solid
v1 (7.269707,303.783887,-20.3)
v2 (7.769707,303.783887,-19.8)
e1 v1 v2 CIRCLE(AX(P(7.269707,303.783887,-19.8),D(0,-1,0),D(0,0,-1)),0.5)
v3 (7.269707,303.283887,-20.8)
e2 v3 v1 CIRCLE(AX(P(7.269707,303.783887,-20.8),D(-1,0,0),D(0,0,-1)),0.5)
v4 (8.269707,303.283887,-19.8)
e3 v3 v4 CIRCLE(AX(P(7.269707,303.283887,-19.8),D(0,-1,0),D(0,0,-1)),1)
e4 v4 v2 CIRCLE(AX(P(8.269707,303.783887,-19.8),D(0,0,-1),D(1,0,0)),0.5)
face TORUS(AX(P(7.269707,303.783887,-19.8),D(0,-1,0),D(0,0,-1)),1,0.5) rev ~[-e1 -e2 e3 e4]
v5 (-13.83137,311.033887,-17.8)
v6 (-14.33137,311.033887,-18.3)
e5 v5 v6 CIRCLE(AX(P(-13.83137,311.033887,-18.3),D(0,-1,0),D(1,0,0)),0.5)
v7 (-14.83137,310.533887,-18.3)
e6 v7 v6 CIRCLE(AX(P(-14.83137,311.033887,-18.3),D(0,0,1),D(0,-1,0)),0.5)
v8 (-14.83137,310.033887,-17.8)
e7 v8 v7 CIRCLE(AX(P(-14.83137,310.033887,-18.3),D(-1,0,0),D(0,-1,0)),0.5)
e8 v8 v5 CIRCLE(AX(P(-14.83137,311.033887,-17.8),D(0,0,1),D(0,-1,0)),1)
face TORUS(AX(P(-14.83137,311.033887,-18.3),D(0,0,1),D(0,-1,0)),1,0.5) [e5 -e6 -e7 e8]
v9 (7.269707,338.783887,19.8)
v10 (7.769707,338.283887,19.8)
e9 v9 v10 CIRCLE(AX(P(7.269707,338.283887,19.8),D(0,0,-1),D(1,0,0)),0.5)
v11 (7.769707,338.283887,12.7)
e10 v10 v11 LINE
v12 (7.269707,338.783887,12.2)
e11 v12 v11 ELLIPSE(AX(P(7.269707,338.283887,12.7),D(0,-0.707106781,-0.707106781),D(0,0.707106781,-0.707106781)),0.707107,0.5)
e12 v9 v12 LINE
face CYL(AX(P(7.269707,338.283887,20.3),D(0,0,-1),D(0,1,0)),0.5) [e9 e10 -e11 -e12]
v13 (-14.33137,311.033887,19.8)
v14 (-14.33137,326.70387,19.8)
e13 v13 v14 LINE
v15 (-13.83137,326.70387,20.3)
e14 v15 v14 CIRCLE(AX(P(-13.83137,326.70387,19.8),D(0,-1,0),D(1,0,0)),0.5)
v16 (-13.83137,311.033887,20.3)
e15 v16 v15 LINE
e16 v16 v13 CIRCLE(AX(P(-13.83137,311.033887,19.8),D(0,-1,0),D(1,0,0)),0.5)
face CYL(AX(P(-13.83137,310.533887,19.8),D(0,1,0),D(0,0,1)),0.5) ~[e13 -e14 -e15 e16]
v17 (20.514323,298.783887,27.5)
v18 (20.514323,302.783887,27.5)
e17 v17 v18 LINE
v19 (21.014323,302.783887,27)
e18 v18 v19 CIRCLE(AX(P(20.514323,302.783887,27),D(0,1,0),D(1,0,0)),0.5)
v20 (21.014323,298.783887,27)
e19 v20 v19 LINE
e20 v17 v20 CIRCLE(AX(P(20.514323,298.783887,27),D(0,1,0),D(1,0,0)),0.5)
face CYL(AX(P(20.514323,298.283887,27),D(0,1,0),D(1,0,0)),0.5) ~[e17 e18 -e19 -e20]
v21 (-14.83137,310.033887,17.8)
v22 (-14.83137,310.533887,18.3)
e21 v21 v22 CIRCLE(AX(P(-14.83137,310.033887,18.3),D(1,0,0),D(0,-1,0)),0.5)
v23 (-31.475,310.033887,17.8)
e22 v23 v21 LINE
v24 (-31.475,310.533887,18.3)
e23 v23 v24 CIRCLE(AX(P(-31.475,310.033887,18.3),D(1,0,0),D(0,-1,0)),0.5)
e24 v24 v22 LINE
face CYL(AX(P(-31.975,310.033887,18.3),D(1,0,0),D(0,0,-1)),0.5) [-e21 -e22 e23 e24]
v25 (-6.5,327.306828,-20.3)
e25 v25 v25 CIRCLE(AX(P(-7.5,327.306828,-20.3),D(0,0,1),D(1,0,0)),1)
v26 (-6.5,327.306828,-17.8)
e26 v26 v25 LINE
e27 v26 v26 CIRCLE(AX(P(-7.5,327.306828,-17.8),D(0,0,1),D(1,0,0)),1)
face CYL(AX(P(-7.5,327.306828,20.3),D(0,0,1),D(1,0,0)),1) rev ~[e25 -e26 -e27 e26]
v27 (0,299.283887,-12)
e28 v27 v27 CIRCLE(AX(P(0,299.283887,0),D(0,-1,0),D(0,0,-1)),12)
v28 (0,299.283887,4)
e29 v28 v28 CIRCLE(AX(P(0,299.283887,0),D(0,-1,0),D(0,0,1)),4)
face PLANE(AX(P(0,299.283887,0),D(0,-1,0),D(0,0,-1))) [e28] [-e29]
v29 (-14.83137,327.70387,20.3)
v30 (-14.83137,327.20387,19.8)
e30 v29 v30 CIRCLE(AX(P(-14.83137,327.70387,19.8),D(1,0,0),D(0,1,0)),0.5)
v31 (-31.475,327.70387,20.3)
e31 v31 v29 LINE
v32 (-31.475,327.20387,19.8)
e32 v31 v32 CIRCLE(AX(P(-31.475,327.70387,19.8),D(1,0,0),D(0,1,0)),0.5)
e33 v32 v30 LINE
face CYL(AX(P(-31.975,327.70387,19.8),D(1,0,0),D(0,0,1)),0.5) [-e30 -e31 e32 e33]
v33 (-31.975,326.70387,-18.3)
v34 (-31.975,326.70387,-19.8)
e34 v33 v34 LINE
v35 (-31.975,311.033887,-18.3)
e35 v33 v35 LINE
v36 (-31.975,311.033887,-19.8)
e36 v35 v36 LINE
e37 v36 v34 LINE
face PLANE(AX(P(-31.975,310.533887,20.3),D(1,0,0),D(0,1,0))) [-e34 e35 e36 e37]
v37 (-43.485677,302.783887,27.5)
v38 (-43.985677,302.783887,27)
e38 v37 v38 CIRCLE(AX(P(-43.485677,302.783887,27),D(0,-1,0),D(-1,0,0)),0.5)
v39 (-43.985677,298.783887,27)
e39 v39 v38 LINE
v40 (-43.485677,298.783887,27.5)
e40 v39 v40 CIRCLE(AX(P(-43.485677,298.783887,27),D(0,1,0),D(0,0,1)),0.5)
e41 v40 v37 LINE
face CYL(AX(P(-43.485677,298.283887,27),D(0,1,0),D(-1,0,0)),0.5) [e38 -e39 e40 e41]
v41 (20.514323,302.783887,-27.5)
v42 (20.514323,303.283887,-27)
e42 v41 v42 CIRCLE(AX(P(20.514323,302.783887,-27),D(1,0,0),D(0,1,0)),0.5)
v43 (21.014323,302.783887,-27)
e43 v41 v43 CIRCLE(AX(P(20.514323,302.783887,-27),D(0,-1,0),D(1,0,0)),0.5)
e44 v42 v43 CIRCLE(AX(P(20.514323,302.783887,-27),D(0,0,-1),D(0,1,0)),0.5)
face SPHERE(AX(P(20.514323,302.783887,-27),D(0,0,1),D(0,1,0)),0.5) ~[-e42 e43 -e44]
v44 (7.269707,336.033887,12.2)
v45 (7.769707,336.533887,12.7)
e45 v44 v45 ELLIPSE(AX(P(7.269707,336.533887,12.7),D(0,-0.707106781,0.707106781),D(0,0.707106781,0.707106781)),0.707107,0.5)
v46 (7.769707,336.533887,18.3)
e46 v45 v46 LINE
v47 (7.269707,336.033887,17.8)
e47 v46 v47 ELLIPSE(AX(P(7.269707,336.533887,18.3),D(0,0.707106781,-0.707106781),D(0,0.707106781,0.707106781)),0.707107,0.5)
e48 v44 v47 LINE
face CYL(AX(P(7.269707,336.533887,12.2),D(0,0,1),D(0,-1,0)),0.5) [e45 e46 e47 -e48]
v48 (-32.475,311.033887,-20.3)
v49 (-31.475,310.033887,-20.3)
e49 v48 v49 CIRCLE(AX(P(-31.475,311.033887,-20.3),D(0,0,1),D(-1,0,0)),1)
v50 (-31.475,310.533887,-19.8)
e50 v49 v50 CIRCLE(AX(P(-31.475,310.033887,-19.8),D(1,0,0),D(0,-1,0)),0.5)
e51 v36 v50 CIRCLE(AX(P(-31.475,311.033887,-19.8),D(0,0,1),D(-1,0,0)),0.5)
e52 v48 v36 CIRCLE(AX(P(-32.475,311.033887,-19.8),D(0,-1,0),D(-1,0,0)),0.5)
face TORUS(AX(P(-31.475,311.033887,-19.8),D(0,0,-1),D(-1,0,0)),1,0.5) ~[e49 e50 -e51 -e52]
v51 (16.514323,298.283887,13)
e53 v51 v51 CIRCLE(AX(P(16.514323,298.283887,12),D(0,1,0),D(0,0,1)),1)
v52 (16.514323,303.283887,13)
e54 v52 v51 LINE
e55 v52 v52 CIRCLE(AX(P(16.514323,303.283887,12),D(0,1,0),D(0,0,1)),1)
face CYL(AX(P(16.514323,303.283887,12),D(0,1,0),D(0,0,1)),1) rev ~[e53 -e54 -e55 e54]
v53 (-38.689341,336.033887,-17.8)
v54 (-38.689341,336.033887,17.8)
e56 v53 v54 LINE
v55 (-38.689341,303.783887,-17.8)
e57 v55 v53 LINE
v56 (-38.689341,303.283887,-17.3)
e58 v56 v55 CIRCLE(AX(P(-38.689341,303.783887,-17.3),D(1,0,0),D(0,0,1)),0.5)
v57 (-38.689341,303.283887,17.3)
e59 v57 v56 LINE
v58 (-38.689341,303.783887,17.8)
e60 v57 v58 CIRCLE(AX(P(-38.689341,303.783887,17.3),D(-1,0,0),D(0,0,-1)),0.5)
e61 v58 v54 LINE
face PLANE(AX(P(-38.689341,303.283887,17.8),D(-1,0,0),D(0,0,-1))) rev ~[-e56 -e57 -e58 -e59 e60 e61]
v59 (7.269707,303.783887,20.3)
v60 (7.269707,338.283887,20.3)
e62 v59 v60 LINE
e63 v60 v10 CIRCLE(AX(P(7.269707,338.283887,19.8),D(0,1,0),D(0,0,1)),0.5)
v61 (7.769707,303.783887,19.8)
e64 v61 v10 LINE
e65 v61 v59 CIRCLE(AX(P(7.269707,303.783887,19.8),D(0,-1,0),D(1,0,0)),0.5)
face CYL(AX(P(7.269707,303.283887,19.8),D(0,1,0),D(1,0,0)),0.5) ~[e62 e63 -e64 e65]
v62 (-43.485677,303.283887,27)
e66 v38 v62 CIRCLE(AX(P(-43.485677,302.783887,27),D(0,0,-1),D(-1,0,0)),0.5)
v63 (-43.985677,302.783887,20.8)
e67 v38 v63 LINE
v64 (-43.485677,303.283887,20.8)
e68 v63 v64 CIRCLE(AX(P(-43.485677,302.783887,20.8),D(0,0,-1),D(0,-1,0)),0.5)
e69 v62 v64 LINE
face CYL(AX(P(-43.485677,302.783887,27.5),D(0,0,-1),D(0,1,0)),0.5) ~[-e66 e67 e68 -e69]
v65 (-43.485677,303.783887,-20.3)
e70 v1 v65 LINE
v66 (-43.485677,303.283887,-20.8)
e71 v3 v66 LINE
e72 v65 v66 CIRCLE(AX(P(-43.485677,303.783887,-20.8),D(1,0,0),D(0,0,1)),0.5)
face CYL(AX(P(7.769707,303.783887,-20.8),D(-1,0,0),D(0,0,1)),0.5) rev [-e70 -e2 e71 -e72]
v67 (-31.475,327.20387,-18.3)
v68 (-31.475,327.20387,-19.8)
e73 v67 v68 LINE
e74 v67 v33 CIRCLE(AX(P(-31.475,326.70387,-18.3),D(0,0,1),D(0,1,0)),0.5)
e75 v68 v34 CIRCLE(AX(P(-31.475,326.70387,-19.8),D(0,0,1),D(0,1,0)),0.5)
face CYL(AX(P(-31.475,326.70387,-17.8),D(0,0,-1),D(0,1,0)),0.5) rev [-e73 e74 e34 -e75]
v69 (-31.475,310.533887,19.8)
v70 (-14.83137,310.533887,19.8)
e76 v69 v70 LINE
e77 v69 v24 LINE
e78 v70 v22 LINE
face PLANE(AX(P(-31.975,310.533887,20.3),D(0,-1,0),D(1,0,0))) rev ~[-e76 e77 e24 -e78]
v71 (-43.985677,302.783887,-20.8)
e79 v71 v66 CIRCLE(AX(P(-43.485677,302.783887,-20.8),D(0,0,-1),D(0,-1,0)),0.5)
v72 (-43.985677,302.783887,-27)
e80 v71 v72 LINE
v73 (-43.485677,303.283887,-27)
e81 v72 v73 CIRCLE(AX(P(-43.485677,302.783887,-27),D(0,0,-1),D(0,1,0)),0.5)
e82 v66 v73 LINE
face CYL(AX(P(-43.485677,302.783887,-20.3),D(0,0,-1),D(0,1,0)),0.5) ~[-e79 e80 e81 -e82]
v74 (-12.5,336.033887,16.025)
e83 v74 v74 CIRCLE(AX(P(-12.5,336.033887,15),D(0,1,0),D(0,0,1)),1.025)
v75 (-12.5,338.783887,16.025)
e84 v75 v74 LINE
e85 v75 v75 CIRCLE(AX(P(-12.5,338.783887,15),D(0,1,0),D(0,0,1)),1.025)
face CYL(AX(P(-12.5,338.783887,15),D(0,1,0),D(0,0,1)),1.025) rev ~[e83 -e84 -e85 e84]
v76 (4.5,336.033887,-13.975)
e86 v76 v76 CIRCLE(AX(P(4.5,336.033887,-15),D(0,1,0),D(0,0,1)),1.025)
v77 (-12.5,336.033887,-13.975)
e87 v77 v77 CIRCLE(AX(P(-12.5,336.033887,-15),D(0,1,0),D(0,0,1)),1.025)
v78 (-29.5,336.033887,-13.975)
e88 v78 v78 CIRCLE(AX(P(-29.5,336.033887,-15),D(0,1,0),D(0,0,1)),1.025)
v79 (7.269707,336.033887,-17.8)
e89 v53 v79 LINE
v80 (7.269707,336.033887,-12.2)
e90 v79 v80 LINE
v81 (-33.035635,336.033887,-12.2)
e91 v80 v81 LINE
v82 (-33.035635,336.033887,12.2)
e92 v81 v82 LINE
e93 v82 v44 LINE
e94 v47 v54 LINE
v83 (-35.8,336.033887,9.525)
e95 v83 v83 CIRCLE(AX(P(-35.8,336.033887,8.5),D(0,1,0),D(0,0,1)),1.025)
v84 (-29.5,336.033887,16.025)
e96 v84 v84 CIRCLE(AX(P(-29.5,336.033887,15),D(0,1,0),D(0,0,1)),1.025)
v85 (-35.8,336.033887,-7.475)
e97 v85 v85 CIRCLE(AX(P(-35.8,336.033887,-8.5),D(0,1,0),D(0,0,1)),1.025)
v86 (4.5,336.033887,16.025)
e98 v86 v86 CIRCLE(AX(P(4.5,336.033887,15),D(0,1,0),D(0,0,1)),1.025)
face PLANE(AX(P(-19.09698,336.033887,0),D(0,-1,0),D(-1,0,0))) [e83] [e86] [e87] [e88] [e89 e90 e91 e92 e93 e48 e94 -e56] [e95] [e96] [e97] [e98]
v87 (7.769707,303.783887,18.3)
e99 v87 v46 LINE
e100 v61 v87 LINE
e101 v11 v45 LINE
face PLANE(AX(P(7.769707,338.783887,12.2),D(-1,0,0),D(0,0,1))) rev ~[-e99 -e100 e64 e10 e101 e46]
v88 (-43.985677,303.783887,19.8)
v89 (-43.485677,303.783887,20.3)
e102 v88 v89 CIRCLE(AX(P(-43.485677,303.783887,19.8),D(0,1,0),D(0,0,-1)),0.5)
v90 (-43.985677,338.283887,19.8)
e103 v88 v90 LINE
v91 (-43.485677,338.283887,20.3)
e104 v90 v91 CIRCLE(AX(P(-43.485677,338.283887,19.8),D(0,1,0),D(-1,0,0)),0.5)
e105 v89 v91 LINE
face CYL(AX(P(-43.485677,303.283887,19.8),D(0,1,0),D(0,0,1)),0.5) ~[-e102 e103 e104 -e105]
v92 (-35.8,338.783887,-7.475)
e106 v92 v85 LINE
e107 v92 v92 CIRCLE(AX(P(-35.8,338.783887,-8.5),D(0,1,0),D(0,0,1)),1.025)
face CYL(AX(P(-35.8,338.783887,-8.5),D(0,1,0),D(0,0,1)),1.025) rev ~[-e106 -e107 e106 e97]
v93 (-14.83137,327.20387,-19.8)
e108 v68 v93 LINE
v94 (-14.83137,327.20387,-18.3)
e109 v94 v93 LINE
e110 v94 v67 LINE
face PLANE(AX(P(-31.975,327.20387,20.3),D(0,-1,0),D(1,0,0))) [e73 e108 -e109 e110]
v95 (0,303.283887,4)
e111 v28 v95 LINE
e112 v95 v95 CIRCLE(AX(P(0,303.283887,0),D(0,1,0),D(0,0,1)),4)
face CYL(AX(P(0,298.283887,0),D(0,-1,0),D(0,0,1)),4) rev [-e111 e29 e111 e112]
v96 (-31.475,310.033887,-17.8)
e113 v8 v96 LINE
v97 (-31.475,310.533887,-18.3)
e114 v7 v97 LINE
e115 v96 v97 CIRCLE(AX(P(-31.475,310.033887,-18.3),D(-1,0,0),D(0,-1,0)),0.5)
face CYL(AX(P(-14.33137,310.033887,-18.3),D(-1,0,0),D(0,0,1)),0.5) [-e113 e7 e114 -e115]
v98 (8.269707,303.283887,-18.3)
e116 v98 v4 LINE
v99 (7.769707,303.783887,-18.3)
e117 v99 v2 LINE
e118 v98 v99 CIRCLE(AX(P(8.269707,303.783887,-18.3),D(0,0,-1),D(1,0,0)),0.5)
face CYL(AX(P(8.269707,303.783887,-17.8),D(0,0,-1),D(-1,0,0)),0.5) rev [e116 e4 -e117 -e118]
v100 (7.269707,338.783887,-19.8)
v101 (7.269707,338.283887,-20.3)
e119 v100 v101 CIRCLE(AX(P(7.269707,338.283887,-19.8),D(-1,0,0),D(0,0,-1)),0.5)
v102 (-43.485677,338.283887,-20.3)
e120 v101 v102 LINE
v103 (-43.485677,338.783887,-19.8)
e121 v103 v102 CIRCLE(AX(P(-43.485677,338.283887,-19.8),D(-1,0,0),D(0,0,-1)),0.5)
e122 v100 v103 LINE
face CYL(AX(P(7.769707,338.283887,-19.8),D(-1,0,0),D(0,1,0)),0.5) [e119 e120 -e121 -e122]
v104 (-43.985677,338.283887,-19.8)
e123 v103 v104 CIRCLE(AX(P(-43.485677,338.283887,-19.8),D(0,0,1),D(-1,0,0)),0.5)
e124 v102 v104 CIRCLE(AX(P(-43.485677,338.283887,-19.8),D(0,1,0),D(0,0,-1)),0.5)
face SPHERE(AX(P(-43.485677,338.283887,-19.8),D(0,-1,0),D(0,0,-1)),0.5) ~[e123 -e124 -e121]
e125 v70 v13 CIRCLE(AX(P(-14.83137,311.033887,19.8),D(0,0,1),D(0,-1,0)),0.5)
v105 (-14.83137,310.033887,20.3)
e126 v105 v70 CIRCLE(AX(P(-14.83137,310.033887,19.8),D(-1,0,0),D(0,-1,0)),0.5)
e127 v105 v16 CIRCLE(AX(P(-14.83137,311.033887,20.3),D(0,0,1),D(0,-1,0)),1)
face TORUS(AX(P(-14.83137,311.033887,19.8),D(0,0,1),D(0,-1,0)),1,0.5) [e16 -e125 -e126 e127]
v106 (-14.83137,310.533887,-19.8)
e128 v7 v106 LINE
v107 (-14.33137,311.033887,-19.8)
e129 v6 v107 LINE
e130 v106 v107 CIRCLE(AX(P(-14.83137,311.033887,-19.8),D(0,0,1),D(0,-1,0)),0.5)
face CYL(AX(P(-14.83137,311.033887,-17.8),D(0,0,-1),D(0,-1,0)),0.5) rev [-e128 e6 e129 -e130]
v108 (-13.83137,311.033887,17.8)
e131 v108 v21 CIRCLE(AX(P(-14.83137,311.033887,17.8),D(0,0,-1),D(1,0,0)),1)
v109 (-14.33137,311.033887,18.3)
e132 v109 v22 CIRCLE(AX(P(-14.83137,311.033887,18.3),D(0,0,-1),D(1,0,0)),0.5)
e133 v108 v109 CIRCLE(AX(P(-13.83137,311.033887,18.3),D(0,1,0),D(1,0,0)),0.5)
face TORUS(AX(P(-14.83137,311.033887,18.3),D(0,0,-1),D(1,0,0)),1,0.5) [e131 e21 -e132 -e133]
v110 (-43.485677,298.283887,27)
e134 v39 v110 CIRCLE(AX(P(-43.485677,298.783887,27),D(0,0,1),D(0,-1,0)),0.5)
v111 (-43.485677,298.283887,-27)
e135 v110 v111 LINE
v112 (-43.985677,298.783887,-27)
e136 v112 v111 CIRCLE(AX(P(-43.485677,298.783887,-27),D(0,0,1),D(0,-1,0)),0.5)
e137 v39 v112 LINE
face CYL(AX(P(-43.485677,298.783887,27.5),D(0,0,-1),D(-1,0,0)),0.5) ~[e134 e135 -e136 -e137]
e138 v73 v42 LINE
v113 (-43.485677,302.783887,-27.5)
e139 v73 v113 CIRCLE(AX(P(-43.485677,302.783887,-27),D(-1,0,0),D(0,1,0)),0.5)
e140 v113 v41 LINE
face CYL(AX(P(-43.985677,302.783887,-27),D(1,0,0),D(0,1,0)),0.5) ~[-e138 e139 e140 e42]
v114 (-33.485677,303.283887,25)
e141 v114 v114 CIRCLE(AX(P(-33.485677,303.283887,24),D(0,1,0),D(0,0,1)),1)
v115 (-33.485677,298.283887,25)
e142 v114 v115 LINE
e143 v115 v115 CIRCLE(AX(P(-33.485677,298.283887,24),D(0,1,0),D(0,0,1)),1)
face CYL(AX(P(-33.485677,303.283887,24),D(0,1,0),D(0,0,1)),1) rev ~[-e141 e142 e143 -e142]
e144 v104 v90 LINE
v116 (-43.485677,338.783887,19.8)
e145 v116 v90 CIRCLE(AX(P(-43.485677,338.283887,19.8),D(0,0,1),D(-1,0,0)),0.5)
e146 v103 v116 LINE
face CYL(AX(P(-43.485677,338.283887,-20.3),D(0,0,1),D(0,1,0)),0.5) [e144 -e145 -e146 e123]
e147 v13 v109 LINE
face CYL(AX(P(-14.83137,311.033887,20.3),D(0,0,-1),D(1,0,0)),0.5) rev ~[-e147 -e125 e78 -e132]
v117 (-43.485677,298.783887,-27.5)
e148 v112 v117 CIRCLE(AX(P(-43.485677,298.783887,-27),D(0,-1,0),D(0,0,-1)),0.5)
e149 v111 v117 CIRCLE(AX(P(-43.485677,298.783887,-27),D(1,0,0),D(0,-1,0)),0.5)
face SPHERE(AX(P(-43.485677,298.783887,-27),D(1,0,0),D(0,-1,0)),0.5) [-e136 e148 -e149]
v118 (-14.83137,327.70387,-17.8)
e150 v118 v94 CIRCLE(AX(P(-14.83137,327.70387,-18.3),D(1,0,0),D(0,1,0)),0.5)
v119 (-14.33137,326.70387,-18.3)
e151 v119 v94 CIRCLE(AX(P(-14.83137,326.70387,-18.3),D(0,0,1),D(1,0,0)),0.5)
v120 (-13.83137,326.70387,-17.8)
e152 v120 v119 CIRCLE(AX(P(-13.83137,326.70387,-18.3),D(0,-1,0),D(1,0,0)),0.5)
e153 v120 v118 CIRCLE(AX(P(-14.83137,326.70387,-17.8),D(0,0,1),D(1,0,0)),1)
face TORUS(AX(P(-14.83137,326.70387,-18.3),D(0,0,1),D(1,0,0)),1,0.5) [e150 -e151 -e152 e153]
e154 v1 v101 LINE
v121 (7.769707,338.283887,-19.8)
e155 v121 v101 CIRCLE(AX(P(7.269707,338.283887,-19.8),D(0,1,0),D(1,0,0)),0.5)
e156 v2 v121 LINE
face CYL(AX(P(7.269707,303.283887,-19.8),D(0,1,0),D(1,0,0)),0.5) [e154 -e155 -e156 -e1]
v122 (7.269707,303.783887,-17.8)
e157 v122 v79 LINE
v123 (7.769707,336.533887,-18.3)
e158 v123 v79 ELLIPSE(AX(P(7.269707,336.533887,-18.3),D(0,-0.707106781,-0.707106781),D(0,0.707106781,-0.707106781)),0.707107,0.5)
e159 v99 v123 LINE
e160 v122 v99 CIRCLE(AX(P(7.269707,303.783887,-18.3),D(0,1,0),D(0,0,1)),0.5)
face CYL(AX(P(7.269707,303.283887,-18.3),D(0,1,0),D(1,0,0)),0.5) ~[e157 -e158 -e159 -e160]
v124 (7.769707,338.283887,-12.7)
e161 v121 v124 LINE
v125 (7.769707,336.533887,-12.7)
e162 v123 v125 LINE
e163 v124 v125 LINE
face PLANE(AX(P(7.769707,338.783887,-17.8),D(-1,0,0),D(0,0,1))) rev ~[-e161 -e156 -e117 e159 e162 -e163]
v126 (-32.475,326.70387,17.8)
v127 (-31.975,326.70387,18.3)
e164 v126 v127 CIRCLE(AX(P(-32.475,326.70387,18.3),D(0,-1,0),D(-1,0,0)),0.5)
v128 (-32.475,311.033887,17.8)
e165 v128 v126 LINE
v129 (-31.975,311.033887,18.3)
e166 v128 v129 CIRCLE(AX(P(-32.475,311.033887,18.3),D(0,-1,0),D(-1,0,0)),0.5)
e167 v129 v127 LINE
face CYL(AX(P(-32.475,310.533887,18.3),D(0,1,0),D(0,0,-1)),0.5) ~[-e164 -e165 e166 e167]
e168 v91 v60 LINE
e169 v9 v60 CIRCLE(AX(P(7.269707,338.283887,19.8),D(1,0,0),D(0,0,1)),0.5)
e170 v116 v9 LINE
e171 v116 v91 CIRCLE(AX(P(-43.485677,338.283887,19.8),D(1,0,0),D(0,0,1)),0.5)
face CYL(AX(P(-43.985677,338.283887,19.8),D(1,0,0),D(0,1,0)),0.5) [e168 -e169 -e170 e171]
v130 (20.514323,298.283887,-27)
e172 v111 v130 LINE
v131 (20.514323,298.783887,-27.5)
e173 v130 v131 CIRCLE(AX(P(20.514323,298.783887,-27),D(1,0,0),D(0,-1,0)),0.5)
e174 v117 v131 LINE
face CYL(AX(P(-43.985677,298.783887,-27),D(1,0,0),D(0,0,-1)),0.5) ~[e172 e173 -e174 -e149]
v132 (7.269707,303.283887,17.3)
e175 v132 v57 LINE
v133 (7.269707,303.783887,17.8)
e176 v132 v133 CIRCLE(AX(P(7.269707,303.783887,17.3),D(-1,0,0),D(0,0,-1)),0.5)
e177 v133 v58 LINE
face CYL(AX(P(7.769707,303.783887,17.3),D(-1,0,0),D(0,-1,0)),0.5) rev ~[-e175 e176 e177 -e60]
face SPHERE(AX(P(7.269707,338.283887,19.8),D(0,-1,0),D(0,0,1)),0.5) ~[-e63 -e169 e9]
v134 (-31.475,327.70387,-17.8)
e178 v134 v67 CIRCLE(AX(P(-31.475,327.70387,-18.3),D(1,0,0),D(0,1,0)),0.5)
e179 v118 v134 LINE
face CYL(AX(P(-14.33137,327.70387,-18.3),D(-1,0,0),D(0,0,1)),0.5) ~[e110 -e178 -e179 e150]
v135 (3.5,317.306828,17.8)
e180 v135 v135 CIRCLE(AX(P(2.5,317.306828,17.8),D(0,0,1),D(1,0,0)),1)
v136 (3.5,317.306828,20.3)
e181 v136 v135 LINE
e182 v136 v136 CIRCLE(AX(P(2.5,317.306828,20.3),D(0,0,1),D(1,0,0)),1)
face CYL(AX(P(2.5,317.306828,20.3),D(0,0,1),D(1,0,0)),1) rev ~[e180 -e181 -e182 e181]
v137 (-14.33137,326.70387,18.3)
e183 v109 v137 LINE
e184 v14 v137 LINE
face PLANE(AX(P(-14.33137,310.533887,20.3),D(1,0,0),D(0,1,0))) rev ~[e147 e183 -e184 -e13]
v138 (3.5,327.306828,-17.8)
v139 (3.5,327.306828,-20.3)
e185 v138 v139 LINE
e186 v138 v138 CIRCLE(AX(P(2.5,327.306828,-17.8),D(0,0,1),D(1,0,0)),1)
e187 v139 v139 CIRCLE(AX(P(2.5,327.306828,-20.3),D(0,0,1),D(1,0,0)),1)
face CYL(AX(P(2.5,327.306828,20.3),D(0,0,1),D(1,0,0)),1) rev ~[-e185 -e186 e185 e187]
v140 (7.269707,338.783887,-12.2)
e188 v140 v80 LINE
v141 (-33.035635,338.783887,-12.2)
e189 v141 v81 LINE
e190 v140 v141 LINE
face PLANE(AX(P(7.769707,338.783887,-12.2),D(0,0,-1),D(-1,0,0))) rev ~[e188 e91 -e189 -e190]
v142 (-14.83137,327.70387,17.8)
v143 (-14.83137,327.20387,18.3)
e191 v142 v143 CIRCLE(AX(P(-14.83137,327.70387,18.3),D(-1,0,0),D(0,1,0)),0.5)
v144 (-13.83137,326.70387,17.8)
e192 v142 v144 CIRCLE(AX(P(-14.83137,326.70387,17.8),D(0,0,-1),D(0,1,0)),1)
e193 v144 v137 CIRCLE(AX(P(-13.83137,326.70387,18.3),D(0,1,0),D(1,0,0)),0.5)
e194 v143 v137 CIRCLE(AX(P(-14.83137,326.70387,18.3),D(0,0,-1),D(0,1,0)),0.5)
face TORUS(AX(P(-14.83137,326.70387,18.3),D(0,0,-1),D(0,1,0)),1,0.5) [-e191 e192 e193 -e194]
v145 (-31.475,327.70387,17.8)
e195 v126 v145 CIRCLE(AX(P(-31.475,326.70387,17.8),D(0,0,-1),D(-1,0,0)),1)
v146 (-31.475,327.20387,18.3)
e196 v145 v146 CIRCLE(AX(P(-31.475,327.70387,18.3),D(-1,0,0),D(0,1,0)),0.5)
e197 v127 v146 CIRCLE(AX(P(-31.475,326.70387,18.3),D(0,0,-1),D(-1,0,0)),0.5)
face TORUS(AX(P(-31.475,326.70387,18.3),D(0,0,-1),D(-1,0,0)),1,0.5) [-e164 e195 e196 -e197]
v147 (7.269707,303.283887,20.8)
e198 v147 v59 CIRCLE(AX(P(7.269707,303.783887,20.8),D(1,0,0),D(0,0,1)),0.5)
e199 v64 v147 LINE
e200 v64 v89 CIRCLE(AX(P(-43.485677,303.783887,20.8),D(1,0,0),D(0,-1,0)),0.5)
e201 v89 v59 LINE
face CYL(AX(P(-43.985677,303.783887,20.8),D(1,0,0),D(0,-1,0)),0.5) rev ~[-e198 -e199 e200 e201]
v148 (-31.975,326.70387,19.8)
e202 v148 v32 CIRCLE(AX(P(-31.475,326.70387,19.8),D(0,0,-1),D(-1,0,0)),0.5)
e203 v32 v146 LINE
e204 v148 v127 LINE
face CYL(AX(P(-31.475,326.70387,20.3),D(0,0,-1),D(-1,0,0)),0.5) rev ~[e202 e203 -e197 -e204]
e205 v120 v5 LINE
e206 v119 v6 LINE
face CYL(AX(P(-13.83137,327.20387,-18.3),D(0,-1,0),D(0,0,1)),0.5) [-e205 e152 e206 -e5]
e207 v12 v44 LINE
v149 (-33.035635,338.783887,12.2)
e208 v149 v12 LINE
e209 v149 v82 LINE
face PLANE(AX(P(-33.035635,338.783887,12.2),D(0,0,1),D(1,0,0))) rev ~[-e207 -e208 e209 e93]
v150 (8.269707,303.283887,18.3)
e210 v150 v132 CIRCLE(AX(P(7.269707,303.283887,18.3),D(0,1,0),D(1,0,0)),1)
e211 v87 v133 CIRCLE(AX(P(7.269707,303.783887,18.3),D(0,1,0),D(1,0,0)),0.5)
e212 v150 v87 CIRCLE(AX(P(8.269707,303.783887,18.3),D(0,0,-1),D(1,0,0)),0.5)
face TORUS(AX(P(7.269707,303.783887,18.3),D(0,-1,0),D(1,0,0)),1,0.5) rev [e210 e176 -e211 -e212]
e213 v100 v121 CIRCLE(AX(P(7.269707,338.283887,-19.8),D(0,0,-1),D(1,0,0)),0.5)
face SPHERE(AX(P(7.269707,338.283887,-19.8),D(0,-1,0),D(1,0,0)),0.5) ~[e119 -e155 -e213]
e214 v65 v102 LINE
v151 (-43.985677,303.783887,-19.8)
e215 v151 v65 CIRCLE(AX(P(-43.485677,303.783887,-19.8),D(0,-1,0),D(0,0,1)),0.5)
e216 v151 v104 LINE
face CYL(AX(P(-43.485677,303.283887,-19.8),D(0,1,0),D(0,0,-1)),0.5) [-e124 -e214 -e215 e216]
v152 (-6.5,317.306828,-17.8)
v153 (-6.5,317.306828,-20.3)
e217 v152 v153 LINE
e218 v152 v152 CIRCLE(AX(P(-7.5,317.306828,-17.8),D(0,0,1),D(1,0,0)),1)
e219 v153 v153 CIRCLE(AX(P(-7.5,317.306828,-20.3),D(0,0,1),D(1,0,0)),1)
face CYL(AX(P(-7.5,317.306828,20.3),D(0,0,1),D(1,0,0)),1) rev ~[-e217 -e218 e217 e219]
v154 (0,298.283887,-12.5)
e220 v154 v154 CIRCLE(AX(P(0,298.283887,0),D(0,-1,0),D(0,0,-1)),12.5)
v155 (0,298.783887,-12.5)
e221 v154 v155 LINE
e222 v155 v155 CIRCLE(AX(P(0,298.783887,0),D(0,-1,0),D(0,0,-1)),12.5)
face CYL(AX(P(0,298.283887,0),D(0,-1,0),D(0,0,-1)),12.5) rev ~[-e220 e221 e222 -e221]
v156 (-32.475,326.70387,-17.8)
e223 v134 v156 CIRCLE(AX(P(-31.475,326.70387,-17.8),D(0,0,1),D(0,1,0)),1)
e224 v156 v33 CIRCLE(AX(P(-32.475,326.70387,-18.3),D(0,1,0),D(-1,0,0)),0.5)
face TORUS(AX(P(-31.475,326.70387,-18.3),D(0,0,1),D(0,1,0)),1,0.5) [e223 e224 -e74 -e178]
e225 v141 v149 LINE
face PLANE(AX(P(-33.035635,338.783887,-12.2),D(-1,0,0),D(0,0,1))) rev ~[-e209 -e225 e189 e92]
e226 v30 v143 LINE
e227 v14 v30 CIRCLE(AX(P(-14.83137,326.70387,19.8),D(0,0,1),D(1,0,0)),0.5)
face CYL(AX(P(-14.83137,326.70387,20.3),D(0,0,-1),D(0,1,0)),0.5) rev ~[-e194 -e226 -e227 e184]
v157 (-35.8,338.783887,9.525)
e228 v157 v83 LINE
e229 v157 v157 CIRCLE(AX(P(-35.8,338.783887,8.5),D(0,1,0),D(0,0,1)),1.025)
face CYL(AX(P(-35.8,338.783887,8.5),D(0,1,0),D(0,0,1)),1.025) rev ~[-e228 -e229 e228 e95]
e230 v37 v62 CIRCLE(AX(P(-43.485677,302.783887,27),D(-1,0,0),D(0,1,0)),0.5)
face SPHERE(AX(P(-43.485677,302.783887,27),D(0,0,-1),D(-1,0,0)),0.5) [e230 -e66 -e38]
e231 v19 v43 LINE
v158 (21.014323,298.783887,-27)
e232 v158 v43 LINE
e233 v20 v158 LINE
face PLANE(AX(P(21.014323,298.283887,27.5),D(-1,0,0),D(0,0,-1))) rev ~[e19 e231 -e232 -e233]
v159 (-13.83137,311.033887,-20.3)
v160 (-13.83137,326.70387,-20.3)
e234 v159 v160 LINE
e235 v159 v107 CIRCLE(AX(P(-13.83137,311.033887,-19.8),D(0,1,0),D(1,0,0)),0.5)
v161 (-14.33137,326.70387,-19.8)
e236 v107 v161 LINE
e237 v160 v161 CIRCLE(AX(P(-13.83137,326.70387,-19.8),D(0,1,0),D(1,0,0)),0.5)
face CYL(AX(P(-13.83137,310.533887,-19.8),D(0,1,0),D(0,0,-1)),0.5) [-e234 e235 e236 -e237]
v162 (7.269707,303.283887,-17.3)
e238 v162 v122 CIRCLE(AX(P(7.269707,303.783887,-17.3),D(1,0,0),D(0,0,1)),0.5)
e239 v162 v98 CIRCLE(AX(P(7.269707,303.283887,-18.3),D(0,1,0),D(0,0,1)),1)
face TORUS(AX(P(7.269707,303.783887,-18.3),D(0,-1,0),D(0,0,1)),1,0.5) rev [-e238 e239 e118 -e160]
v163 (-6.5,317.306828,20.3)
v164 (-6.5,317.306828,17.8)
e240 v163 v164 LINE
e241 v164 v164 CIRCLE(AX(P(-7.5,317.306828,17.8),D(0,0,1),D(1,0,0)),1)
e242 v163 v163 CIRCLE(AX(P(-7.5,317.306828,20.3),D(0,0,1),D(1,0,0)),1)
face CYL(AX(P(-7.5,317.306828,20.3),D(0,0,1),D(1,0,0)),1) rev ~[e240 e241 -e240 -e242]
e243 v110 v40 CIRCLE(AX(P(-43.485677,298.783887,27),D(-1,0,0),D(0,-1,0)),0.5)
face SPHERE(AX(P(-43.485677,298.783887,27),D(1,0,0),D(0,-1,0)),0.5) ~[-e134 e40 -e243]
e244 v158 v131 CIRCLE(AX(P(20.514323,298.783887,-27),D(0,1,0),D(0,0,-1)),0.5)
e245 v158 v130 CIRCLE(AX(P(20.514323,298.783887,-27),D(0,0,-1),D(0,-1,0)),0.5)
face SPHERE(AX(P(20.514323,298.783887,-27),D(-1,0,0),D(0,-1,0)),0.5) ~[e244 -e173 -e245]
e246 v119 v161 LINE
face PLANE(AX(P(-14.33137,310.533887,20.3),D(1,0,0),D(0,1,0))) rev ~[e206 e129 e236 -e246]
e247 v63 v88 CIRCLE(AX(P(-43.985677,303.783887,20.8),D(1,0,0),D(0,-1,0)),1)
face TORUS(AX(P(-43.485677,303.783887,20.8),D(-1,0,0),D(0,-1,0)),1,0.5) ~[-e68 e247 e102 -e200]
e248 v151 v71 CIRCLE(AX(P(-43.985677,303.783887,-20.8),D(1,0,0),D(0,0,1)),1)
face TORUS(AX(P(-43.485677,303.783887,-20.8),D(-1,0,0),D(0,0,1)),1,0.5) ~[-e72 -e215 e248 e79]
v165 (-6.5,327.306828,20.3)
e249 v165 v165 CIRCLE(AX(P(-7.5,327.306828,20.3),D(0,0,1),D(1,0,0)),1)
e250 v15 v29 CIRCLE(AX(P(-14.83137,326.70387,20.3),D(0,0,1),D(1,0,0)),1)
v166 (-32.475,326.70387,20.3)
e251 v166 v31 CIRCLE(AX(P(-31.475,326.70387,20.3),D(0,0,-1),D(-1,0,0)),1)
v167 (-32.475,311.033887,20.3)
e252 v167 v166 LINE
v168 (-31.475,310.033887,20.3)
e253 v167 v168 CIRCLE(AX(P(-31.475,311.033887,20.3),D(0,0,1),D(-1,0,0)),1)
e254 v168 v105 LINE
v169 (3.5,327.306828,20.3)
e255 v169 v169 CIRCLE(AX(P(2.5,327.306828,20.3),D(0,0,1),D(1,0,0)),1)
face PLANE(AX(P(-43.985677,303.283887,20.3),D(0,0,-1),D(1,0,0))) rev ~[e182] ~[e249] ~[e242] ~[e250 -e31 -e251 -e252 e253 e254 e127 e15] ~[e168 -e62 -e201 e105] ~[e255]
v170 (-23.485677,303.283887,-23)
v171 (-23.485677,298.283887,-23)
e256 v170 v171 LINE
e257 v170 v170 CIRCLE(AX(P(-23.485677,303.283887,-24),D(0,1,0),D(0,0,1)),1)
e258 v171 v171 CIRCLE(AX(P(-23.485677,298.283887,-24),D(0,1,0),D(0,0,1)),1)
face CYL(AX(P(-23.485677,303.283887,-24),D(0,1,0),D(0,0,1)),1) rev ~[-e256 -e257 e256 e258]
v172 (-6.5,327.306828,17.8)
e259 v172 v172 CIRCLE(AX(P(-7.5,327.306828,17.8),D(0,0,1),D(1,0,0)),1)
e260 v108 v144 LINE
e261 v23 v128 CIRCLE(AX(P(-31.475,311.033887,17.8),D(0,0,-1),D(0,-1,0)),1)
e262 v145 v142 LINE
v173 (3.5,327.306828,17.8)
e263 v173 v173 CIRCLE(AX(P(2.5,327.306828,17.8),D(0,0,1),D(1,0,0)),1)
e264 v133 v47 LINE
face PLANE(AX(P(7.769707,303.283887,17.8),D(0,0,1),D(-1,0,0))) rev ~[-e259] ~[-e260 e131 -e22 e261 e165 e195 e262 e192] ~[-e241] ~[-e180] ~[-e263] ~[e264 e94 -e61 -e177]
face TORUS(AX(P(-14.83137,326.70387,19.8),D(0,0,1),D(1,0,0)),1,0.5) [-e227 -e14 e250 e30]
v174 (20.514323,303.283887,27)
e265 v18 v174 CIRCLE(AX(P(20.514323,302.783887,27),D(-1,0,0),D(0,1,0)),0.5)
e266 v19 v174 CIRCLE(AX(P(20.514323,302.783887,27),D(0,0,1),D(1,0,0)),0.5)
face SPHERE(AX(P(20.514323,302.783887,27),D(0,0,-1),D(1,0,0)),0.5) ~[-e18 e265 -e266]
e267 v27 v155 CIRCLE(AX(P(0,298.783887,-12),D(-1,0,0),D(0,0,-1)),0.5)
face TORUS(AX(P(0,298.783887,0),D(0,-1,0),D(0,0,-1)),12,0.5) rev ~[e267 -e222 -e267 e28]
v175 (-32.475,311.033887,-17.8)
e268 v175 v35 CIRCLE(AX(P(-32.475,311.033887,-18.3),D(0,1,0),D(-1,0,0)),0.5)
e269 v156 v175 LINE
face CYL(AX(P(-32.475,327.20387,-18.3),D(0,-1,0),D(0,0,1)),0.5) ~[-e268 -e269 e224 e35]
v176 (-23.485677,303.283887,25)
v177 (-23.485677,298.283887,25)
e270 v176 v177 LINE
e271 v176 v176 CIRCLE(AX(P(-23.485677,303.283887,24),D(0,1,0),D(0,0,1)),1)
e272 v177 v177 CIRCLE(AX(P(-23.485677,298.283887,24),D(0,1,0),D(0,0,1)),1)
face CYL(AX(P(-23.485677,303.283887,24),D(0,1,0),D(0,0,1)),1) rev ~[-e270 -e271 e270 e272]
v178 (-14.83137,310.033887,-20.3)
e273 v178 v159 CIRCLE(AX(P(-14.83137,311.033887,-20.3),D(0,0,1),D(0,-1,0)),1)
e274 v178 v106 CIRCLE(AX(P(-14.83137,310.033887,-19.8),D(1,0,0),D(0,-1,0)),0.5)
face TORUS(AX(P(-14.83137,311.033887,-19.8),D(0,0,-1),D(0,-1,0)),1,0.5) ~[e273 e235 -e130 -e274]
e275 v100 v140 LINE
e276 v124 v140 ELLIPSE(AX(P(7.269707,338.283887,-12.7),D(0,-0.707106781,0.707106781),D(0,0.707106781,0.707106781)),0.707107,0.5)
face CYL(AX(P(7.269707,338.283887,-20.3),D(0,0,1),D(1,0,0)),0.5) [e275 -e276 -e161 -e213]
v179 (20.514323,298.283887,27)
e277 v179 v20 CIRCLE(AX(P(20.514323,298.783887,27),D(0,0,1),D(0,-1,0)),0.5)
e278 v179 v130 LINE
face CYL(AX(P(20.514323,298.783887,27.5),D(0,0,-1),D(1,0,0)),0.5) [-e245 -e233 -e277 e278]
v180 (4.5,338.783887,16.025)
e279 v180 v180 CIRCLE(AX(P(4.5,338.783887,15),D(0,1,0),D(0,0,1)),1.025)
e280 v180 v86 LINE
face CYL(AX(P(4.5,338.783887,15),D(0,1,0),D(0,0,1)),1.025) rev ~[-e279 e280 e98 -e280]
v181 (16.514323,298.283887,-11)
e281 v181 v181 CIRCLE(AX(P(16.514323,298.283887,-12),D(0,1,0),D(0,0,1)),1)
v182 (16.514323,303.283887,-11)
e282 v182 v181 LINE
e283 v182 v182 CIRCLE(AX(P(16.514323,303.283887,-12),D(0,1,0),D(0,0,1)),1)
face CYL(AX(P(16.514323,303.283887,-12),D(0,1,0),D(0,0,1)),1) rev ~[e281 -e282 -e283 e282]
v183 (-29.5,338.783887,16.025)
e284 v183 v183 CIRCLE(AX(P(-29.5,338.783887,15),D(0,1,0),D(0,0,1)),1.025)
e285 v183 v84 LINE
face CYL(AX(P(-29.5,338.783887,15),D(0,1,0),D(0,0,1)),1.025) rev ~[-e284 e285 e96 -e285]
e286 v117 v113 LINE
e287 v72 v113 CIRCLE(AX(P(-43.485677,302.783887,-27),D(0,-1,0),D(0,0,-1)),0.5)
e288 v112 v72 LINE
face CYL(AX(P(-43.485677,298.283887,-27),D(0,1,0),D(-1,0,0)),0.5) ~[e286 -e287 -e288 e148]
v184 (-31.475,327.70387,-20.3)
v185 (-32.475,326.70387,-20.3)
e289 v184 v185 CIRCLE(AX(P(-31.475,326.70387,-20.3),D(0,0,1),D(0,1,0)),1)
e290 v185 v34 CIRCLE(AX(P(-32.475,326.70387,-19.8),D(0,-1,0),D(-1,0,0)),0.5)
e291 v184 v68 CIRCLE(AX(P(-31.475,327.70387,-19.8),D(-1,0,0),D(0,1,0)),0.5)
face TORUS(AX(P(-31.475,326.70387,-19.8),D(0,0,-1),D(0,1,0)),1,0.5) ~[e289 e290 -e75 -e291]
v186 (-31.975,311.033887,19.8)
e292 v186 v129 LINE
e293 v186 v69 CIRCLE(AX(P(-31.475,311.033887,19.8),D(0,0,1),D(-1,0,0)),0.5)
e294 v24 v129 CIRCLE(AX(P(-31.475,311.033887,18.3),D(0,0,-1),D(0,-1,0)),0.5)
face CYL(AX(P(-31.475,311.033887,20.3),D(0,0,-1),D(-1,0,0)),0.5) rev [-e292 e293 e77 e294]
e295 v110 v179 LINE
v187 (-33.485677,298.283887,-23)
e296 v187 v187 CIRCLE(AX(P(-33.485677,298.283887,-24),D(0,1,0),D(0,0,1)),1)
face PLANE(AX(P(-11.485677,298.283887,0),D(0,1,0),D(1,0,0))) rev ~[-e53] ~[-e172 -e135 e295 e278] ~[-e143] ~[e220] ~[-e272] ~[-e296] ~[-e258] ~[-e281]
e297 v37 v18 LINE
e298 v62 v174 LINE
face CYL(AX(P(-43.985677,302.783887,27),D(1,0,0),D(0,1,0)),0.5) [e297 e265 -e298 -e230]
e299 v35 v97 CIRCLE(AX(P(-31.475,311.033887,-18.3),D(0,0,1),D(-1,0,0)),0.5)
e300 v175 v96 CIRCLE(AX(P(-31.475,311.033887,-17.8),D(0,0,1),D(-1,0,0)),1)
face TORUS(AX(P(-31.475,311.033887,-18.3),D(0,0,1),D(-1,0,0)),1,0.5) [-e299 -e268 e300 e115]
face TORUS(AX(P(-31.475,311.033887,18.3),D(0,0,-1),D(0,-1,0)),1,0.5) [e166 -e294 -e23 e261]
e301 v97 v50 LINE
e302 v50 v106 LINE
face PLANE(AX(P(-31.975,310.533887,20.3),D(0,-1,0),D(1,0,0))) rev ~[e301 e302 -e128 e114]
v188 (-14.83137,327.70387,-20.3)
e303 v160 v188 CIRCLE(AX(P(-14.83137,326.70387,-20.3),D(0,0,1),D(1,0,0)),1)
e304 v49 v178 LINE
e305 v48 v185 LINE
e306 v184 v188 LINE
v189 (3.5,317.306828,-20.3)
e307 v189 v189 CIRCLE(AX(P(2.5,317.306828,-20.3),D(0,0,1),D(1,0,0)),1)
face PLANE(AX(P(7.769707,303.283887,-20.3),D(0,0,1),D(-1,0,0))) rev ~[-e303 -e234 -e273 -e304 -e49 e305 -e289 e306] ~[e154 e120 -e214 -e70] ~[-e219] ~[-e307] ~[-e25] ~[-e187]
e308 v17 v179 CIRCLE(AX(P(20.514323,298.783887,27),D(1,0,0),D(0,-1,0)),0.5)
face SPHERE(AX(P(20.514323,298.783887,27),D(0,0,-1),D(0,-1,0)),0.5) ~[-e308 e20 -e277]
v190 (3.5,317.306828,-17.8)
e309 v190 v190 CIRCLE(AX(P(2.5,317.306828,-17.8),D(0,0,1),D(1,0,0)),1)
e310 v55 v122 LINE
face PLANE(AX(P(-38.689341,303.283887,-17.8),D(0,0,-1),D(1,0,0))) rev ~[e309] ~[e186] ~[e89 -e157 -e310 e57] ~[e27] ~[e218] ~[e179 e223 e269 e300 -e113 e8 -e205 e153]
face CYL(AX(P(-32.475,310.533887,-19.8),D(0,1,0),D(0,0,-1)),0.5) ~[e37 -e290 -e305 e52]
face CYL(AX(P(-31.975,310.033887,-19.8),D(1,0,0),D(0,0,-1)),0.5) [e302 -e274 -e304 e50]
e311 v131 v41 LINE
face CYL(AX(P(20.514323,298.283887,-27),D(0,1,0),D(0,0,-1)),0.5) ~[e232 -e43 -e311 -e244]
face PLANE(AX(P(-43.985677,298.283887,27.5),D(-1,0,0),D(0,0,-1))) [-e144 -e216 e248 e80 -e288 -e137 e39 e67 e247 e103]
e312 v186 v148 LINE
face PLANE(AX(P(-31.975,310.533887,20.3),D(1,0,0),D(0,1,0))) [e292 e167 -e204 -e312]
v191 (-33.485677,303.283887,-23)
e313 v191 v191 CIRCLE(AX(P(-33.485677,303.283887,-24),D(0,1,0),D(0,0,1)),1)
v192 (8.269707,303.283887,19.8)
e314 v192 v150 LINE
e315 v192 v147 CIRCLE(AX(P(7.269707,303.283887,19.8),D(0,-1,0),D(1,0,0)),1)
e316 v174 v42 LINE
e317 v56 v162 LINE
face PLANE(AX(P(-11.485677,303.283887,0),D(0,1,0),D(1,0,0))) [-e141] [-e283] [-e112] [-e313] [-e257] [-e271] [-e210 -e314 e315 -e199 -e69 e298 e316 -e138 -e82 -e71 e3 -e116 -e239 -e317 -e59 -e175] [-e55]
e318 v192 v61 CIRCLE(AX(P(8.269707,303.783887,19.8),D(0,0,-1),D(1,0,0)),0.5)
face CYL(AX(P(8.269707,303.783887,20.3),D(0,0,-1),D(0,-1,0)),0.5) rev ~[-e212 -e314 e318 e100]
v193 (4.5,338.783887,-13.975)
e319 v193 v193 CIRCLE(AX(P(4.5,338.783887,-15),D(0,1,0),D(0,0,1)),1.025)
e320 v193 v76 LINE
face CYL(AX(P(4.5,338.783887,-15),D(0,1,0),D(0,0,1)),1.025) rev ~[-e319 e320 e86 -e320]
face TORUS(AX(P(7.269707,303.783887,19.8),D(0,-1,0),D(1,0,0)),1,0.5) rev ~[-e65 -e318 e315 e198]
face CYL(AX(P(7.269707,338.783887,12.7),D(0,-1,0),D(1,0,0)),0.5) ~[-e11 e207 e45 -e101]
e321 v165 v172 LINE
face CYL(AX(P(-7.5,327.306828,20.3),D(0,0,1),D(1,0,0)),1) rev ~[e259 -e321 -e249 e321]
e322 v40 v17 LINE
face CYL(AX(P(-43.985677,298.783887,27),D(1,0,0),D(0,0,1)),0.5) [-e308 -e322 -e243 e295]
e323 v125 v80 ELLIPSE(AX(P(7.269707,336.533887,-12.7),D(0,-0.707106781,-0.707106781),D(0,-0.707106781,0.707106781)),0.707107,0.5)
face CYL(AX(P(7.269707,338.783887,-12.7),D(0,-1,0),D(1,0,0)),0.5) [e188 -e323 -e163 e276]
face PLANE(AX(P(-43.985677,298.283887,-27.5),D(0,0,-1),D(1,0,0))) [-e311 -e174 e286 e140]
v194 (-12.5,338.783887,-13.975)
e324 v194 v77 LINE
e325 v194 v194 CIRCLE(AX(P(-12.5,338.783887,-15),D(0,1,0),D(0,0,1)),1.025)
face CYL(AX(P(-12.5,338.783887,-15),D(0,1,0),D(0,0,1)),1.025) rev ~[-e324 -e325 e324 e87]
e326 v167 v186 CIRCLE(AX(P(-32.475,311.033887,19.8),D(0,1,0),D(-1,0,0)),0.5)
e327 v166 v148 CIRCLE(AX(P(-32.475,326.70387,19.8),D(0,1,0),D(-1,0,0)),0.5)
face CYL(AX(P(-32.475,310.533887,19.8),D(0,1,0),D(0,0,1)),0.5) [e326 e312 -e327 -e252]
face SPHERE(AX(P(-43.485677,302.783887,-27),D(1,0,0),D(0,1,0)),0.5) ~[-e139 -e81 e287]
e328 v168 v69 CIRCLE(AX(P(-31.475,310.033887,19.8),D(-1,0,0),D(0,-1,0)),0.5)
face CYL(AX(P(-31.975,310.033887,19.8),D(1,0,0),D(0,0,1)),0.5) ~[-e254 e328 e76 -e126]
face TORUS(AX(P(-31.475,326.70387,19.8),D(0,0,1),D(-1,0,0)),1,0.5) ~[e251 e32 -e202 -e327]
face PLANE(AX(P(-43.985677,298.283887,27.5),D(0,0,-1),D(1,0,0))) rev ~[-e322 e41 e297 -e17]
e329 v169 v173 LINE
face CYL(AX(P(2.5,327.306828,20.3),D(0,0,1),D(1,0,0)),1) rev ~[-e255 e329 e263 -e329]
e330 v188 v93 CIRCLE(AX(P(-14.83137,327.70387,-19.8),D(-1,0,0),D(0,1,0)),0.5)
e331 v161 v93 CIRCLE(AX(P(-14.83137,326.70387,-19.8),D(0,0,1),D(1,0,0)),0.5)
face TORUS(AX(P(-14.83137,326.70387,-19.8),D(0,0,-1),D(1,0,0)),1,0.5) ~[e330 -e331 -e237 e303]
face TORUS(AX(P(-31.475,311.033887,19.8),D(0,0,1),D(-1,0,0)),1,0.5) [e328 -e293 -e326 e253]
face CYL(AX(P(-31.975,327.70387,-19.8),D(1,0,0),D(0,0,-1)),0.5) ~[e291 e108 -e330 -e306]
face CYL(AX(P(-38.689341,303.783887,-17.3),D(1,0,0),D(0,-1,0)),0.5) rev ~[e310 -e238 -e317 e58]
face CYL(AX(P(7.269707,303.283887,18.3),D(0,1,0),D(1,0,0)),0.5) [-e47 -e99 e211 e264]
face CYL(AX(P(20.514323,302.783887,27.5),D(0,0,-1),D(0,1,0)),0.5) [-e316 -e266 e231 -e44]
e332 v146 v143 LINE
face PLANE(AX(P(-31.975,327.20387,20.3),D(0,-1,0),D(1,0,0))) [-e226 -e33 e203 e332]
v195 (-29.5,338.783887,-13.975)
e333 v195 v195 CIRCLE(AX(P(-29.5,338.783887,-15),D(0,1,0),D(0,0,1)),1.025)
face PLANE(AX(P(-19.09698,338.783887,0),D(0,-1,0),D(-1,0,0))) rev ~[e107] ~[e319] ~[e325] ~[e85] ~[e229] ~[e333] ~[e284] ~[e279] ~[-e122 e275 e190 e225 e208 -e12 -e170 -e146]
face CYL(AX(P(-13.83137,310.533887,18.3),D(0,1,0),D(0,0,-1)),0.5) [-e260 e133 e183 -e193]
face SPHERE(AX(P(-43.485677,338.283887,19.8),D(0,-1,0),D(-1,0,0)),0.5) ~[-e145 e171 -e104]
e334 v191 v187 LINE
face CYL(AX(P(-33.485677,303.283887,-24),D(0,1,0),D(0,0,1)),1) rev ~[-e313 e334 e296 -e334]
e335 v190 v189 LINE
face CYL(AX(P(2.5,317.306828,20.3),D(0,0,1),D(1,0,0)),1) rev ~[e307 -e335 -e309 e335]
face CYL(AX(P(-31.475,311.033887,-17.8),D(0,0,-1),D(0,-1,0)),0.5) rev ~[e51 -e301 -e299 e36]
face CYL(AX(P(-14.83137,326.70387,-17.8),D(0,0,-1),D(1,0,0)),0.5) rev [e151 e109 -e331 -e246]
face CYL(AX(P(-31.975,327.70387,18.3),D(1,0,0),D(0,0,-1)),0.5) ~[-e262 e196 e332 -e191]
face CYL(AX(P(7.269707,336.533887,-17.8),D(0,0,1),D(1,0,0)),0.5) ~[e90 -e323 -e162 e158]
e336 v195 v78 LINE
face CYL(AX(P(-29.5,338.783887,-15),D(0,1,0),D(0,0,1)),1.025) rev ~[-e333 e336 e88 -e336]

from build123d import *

# Parameters (mm, degrees)
SKETCH1_W           = 65
SKETCH1_H           = 55
SKETCH1_R           = 4
BOSS_EXTRUDE1_DEPTH = 5
SKETCH5_R           = 12.5
CUT_EXTRUDE3_DEPTH  = 1
BOSS_EXTRUDE2_DEPTH = 35.5
BOSS_EXTRUDE4_DEPTH = 2.75
SKETCH12_R          = 1.025
CUT_EXTRUDE4_DEPTH  = 2.75
SKETCH13_W          = 17.643630177
SKETCH13_H          = 16.669982459
CUT_EXTRUDE6_DEPTH  = 345.955217573
FILLET1_R           = 0.5
SKETCH14_R          = 1
CUT_EXTRUDE7_DEPTH  = 345.955217573
SKETCH15_R          = 1
CUT_EXTRUDE8_DEPTH  = 63.858888163


with BuildPart() as part:
    # Sketch1 → Boss-Extrude1 (new body)
    with BuildSketch(Plane(origin=(0, 298.283887323, 0), x_dir=(1, 0, 0), z_dir=(0, 1, 0))):
        with Locations((-11.485677455, 0)):
            Rectangle(SKETCH1_W, SKETCH1_H)
        with Locations(Location((0, 0, 0), (0, 0, 270))):
            Circle(SKETCH1_R, mode=Mode.SUBTRACT)
    extrude(amount=BOSS_EXTRUDE1_DEPTH)

    # Sketch5 → Cut-Extrude3 (cut)
    with BuildSketch(Plane.XZ.offset(-298.283887323)):
        with Locations(Location((0, 0, 0), (0, 0, 270))):
            Circle(SKETCH5_R)
    extrude(amount=-CUT_EXTRUDE3_DEPTH, mode=Mode.SUBTRACT)

    # Sketch6 → Boss-Extrude2 (add)
    with BuildSketch(Plane(origin=(0, 303.283887323, 0), x_dir=(1, 0, 0), z_dir=(0, 1, 0))):
        Polygon((7.769706862, 17.8), (7.769706862, 20.3), (-43.985677455, 20.3), (-43.985677455, -20.3), (7.769706862, -20.3), (7.769706862, -17.8), (-38.689340861, -17.8), (-38.689340861, 17.8), align=None)
    extrude(amount=BOSS_EXTRUDE2_DEPTH)

    # Sketch11 → Boss-Extrude4 (add)
    with BuildSketch(Plane(origin=(0, 338.783887323, 0), x_dir=(1, 0, 0), z_dir=(0, 1, 0))):
        Polygon((7.769706862, 17.8), (7.769706862, 12.2), (-33.035634981, 12.2), (-33.035634981, -12.2), (7.769706862, -12.2), (7.769706862, -17.8), (-40.37376825, -17.8), (-40.37376825, 17.8), align=None)
    extrude(amount=-BOSS_EXTRUDE4_DEPTH)

    # Sketch12 → Cut-Extrude4 (cut)
    with BuildSketch(Plane(origin=(0, 338.783887323, 0), x_dir=(1, 0, 0), z_dir=(0, 1, 0))):
        with Locations(Location((4.5, -15, 0), (0, 0, 270))):
            Circle(SKETCH12_R)
        with Locations(Location((-12.5, -15, 0), (0, 0, 270))):
            Circle(SKETCH12_R)
        with Locations(Location((-29.5, -15, 0), (0, 0, 270))):
            Circle(SKETCH12_R)
        with Locations(Location((-35.8, -8.5, 0), (0, 0, 270))):
            Circle(SKETCH12_R)
        with Locations(Location((-35.8, 8.5, 0), (0, 0, 270))):
            Circle(SKETCH12_R)
        with Locations(Location((-29.5, 15, 0), (0, 0, 270))):
            Circle(SKETCH12_R)
        with Locations(Location((4.5, 15, 0), (0, 0, 270))):
            Circle(SKETCH12_R)
        with Locations(Location((-12.5, 15, 0), (0, 0, 270))):
            Circle(SKETCH12_R)
    extrude(amount=-CUT_EXTRUDE4_DEPTH, mode=Mode.SUBTRACT)

    # Sketch13 → Cut-Extrude6 (cut, through all)
    with BuildSketch(Plane.XY.offset(20.3)):
        with Locations((-23.153184912, 318.868878553)):
            Rectangle(SKETCH13_W, SKETCH13_H)
    extrude(amount=-CUT_EXTRUDE6_DEPTH, mode=Mode.SUBTRACT)

    # Fillet1
    fillet1_edges = [part.edges().sort_by_distance(p)[0] for p in [
        (-31.975, 310.533887323, -19.05),
        (-31.975, 318.868878553, -17.8),
        (-31.975, 318.868878553, -20.3),
        (-31.975, 318.868878553, 17.8),
        (-31.975, 310.533887323, 19.05),
        (-31.975, 327.203869782, -19.05),
        (-23.153184912, 327.203869782, -17.8),
        (-23.153184912, 327.203869782, -20.3),
        (-23.153184912, 327.203869782, 17.8),
        (-31.975, 327.203869782, 19.05),
        (-14.331369823, 327.203869782, -19.05),
        (-14.331369823, 318.868878553, -17.8),
        (-14.331369823, 318.868878553, -20.3),
        (-14.331369823, 318.868878553, 17.8),
        (-14.331369823, 327.203869782, 19.05),
        (-14.331369823, 310.533887323, -19.05),
        (-23.153184912, 310.533887323, -17.8),
        (-23.153184912, 310.533887323, -20.3),
        (-23.153184912, 310.533887323, 17.8),
        (-14.331369823, 310.533887323, 19.05),
        (-31.975, 318.868878553, 20.3),
        (-23.153184912, 310.533887323, 20.3),
        (-14.331369823, 318.868878553, 20.3),
        (-23.153184912, 327.203869782, 20.3),
        (21.014322545, 303.283887323, 0),
        (-11.485677455, 303.283887323, -27.5),
        (0, 299.283887323, 12.5),
        (-43.985677455, 303.283887323, 23.9),
        (-15.459816999, 303.283887323, -17.8),
        (7.769706862, 303.283887323, -19.05),
        (7.769706862, 321.033887323, -20.3),
        (-18.107985296, 303.283887323, -20.3),
        (-43.985677455, 321.033887323, -20.3),
        (-43.985677455, 321.033887323, 20.3),
        (-18.107985296, 303.283887323, 20.3),
        (7.769706862, 321.033887323, 20.3),
        (7.769706862, 303.283887323, 19.05),
        (-15.459816999, 303.283887323, 17.8),
        (7.769706862, 338.783887323, -16.25),
        (-18.107985296, 338.783887323, -20.3),
        (-43.985677455, 338.783887323, 0),
        (-18.107985296, 338.783887323, 20.3),
        (7.769706862, 338.783887323, 16.25),
        (-43.985677455, 303.283887323, -23.9),
        (-11.485677455, 298.283887323, -27.5),
        (7.769706862, 319.658887323, 17.8),
        (7.769706862, 319.658887323, -17.8),
        (21.014322545, 298.283887323, 0),
        (7.769706862, 336.033887323, -15),
        (7.769706862, 337.408887323, -12.2),
        (7.769706862, 336.033887323, 15),
        (-11.485677455, 298.283887323, 27.5),
        (7.769706862, 337.408887323, 12.2),
        (-43.985677455, 298.283887323, 0),
        (-43.985677455, 300.783887323, -27.5),
        (21.014322545, 300.783887323, -27.5),
        (21.014322545, 300.783887323, 27.5),
        (-43.985677455, 300.783887323, 27.5),
        (-11.485677455, 303.283887323, 27.5),
    ]]
    fillet(fillet1_edges, radius=FILLET1_R)

    # Sketch14 → Cut-Extrude7 (cut, through all)
    with BuildSketch(Plane.XY.offset(20.3)):
        with Locations((-7.5, 327.30682762)):
            Circle(SKETCH14_R)
        with Locations((2.5, 327.30682762)):
            Circle(SKETCH14_R)
        with Locations((2.5, 317.30682762)):
            Circle(SKETCH14_R)
        with Locations((-7.5, 317.30682762)):
            Circle(SKETCH14_R)
    extrude(amount=-CUT_EXTRUDE7_DEPTH, mode=Mode.SUBTRACT)

    # Sketch15 → Cut-Extrude8 (cut, through all)
    with BuildSketch(Plane(origin=(0, 303.283887323, 0), x_dir=(1, 0, 0), z_dir=(0, 1, 0))):
        with Locations(Location((-33.485677455, 24, 0), (0, 0, 270))):
            Circle(SKETCH15_R)
        with Locations(Location((-23.485677455, 24, 0), (0, 0, 270))):
            Circle(SKETCH15_R)
        with Locations(Location((-33.485677455, -24, 0), (0, 0, 270))):
            Circle(SKETCH15_R)
        with Locations(Location((-23.485677455, -24, 0), (0, 0, 270))):
            Circle(SKETCH15_R)
        with Locations(Location((16.514322545, 12, 0), (0, 0, 270))):
            Circle(SKETCH15_R)
        with Locations(Location((16.514322545, -12, 0), (0, 0, 270))):
            Circle(SKETCH15_R)
    extrude(amount=-CUT_EXTRUDE8_DEPTH, mode=Mode.SUBTRACT)


solid = part.part
